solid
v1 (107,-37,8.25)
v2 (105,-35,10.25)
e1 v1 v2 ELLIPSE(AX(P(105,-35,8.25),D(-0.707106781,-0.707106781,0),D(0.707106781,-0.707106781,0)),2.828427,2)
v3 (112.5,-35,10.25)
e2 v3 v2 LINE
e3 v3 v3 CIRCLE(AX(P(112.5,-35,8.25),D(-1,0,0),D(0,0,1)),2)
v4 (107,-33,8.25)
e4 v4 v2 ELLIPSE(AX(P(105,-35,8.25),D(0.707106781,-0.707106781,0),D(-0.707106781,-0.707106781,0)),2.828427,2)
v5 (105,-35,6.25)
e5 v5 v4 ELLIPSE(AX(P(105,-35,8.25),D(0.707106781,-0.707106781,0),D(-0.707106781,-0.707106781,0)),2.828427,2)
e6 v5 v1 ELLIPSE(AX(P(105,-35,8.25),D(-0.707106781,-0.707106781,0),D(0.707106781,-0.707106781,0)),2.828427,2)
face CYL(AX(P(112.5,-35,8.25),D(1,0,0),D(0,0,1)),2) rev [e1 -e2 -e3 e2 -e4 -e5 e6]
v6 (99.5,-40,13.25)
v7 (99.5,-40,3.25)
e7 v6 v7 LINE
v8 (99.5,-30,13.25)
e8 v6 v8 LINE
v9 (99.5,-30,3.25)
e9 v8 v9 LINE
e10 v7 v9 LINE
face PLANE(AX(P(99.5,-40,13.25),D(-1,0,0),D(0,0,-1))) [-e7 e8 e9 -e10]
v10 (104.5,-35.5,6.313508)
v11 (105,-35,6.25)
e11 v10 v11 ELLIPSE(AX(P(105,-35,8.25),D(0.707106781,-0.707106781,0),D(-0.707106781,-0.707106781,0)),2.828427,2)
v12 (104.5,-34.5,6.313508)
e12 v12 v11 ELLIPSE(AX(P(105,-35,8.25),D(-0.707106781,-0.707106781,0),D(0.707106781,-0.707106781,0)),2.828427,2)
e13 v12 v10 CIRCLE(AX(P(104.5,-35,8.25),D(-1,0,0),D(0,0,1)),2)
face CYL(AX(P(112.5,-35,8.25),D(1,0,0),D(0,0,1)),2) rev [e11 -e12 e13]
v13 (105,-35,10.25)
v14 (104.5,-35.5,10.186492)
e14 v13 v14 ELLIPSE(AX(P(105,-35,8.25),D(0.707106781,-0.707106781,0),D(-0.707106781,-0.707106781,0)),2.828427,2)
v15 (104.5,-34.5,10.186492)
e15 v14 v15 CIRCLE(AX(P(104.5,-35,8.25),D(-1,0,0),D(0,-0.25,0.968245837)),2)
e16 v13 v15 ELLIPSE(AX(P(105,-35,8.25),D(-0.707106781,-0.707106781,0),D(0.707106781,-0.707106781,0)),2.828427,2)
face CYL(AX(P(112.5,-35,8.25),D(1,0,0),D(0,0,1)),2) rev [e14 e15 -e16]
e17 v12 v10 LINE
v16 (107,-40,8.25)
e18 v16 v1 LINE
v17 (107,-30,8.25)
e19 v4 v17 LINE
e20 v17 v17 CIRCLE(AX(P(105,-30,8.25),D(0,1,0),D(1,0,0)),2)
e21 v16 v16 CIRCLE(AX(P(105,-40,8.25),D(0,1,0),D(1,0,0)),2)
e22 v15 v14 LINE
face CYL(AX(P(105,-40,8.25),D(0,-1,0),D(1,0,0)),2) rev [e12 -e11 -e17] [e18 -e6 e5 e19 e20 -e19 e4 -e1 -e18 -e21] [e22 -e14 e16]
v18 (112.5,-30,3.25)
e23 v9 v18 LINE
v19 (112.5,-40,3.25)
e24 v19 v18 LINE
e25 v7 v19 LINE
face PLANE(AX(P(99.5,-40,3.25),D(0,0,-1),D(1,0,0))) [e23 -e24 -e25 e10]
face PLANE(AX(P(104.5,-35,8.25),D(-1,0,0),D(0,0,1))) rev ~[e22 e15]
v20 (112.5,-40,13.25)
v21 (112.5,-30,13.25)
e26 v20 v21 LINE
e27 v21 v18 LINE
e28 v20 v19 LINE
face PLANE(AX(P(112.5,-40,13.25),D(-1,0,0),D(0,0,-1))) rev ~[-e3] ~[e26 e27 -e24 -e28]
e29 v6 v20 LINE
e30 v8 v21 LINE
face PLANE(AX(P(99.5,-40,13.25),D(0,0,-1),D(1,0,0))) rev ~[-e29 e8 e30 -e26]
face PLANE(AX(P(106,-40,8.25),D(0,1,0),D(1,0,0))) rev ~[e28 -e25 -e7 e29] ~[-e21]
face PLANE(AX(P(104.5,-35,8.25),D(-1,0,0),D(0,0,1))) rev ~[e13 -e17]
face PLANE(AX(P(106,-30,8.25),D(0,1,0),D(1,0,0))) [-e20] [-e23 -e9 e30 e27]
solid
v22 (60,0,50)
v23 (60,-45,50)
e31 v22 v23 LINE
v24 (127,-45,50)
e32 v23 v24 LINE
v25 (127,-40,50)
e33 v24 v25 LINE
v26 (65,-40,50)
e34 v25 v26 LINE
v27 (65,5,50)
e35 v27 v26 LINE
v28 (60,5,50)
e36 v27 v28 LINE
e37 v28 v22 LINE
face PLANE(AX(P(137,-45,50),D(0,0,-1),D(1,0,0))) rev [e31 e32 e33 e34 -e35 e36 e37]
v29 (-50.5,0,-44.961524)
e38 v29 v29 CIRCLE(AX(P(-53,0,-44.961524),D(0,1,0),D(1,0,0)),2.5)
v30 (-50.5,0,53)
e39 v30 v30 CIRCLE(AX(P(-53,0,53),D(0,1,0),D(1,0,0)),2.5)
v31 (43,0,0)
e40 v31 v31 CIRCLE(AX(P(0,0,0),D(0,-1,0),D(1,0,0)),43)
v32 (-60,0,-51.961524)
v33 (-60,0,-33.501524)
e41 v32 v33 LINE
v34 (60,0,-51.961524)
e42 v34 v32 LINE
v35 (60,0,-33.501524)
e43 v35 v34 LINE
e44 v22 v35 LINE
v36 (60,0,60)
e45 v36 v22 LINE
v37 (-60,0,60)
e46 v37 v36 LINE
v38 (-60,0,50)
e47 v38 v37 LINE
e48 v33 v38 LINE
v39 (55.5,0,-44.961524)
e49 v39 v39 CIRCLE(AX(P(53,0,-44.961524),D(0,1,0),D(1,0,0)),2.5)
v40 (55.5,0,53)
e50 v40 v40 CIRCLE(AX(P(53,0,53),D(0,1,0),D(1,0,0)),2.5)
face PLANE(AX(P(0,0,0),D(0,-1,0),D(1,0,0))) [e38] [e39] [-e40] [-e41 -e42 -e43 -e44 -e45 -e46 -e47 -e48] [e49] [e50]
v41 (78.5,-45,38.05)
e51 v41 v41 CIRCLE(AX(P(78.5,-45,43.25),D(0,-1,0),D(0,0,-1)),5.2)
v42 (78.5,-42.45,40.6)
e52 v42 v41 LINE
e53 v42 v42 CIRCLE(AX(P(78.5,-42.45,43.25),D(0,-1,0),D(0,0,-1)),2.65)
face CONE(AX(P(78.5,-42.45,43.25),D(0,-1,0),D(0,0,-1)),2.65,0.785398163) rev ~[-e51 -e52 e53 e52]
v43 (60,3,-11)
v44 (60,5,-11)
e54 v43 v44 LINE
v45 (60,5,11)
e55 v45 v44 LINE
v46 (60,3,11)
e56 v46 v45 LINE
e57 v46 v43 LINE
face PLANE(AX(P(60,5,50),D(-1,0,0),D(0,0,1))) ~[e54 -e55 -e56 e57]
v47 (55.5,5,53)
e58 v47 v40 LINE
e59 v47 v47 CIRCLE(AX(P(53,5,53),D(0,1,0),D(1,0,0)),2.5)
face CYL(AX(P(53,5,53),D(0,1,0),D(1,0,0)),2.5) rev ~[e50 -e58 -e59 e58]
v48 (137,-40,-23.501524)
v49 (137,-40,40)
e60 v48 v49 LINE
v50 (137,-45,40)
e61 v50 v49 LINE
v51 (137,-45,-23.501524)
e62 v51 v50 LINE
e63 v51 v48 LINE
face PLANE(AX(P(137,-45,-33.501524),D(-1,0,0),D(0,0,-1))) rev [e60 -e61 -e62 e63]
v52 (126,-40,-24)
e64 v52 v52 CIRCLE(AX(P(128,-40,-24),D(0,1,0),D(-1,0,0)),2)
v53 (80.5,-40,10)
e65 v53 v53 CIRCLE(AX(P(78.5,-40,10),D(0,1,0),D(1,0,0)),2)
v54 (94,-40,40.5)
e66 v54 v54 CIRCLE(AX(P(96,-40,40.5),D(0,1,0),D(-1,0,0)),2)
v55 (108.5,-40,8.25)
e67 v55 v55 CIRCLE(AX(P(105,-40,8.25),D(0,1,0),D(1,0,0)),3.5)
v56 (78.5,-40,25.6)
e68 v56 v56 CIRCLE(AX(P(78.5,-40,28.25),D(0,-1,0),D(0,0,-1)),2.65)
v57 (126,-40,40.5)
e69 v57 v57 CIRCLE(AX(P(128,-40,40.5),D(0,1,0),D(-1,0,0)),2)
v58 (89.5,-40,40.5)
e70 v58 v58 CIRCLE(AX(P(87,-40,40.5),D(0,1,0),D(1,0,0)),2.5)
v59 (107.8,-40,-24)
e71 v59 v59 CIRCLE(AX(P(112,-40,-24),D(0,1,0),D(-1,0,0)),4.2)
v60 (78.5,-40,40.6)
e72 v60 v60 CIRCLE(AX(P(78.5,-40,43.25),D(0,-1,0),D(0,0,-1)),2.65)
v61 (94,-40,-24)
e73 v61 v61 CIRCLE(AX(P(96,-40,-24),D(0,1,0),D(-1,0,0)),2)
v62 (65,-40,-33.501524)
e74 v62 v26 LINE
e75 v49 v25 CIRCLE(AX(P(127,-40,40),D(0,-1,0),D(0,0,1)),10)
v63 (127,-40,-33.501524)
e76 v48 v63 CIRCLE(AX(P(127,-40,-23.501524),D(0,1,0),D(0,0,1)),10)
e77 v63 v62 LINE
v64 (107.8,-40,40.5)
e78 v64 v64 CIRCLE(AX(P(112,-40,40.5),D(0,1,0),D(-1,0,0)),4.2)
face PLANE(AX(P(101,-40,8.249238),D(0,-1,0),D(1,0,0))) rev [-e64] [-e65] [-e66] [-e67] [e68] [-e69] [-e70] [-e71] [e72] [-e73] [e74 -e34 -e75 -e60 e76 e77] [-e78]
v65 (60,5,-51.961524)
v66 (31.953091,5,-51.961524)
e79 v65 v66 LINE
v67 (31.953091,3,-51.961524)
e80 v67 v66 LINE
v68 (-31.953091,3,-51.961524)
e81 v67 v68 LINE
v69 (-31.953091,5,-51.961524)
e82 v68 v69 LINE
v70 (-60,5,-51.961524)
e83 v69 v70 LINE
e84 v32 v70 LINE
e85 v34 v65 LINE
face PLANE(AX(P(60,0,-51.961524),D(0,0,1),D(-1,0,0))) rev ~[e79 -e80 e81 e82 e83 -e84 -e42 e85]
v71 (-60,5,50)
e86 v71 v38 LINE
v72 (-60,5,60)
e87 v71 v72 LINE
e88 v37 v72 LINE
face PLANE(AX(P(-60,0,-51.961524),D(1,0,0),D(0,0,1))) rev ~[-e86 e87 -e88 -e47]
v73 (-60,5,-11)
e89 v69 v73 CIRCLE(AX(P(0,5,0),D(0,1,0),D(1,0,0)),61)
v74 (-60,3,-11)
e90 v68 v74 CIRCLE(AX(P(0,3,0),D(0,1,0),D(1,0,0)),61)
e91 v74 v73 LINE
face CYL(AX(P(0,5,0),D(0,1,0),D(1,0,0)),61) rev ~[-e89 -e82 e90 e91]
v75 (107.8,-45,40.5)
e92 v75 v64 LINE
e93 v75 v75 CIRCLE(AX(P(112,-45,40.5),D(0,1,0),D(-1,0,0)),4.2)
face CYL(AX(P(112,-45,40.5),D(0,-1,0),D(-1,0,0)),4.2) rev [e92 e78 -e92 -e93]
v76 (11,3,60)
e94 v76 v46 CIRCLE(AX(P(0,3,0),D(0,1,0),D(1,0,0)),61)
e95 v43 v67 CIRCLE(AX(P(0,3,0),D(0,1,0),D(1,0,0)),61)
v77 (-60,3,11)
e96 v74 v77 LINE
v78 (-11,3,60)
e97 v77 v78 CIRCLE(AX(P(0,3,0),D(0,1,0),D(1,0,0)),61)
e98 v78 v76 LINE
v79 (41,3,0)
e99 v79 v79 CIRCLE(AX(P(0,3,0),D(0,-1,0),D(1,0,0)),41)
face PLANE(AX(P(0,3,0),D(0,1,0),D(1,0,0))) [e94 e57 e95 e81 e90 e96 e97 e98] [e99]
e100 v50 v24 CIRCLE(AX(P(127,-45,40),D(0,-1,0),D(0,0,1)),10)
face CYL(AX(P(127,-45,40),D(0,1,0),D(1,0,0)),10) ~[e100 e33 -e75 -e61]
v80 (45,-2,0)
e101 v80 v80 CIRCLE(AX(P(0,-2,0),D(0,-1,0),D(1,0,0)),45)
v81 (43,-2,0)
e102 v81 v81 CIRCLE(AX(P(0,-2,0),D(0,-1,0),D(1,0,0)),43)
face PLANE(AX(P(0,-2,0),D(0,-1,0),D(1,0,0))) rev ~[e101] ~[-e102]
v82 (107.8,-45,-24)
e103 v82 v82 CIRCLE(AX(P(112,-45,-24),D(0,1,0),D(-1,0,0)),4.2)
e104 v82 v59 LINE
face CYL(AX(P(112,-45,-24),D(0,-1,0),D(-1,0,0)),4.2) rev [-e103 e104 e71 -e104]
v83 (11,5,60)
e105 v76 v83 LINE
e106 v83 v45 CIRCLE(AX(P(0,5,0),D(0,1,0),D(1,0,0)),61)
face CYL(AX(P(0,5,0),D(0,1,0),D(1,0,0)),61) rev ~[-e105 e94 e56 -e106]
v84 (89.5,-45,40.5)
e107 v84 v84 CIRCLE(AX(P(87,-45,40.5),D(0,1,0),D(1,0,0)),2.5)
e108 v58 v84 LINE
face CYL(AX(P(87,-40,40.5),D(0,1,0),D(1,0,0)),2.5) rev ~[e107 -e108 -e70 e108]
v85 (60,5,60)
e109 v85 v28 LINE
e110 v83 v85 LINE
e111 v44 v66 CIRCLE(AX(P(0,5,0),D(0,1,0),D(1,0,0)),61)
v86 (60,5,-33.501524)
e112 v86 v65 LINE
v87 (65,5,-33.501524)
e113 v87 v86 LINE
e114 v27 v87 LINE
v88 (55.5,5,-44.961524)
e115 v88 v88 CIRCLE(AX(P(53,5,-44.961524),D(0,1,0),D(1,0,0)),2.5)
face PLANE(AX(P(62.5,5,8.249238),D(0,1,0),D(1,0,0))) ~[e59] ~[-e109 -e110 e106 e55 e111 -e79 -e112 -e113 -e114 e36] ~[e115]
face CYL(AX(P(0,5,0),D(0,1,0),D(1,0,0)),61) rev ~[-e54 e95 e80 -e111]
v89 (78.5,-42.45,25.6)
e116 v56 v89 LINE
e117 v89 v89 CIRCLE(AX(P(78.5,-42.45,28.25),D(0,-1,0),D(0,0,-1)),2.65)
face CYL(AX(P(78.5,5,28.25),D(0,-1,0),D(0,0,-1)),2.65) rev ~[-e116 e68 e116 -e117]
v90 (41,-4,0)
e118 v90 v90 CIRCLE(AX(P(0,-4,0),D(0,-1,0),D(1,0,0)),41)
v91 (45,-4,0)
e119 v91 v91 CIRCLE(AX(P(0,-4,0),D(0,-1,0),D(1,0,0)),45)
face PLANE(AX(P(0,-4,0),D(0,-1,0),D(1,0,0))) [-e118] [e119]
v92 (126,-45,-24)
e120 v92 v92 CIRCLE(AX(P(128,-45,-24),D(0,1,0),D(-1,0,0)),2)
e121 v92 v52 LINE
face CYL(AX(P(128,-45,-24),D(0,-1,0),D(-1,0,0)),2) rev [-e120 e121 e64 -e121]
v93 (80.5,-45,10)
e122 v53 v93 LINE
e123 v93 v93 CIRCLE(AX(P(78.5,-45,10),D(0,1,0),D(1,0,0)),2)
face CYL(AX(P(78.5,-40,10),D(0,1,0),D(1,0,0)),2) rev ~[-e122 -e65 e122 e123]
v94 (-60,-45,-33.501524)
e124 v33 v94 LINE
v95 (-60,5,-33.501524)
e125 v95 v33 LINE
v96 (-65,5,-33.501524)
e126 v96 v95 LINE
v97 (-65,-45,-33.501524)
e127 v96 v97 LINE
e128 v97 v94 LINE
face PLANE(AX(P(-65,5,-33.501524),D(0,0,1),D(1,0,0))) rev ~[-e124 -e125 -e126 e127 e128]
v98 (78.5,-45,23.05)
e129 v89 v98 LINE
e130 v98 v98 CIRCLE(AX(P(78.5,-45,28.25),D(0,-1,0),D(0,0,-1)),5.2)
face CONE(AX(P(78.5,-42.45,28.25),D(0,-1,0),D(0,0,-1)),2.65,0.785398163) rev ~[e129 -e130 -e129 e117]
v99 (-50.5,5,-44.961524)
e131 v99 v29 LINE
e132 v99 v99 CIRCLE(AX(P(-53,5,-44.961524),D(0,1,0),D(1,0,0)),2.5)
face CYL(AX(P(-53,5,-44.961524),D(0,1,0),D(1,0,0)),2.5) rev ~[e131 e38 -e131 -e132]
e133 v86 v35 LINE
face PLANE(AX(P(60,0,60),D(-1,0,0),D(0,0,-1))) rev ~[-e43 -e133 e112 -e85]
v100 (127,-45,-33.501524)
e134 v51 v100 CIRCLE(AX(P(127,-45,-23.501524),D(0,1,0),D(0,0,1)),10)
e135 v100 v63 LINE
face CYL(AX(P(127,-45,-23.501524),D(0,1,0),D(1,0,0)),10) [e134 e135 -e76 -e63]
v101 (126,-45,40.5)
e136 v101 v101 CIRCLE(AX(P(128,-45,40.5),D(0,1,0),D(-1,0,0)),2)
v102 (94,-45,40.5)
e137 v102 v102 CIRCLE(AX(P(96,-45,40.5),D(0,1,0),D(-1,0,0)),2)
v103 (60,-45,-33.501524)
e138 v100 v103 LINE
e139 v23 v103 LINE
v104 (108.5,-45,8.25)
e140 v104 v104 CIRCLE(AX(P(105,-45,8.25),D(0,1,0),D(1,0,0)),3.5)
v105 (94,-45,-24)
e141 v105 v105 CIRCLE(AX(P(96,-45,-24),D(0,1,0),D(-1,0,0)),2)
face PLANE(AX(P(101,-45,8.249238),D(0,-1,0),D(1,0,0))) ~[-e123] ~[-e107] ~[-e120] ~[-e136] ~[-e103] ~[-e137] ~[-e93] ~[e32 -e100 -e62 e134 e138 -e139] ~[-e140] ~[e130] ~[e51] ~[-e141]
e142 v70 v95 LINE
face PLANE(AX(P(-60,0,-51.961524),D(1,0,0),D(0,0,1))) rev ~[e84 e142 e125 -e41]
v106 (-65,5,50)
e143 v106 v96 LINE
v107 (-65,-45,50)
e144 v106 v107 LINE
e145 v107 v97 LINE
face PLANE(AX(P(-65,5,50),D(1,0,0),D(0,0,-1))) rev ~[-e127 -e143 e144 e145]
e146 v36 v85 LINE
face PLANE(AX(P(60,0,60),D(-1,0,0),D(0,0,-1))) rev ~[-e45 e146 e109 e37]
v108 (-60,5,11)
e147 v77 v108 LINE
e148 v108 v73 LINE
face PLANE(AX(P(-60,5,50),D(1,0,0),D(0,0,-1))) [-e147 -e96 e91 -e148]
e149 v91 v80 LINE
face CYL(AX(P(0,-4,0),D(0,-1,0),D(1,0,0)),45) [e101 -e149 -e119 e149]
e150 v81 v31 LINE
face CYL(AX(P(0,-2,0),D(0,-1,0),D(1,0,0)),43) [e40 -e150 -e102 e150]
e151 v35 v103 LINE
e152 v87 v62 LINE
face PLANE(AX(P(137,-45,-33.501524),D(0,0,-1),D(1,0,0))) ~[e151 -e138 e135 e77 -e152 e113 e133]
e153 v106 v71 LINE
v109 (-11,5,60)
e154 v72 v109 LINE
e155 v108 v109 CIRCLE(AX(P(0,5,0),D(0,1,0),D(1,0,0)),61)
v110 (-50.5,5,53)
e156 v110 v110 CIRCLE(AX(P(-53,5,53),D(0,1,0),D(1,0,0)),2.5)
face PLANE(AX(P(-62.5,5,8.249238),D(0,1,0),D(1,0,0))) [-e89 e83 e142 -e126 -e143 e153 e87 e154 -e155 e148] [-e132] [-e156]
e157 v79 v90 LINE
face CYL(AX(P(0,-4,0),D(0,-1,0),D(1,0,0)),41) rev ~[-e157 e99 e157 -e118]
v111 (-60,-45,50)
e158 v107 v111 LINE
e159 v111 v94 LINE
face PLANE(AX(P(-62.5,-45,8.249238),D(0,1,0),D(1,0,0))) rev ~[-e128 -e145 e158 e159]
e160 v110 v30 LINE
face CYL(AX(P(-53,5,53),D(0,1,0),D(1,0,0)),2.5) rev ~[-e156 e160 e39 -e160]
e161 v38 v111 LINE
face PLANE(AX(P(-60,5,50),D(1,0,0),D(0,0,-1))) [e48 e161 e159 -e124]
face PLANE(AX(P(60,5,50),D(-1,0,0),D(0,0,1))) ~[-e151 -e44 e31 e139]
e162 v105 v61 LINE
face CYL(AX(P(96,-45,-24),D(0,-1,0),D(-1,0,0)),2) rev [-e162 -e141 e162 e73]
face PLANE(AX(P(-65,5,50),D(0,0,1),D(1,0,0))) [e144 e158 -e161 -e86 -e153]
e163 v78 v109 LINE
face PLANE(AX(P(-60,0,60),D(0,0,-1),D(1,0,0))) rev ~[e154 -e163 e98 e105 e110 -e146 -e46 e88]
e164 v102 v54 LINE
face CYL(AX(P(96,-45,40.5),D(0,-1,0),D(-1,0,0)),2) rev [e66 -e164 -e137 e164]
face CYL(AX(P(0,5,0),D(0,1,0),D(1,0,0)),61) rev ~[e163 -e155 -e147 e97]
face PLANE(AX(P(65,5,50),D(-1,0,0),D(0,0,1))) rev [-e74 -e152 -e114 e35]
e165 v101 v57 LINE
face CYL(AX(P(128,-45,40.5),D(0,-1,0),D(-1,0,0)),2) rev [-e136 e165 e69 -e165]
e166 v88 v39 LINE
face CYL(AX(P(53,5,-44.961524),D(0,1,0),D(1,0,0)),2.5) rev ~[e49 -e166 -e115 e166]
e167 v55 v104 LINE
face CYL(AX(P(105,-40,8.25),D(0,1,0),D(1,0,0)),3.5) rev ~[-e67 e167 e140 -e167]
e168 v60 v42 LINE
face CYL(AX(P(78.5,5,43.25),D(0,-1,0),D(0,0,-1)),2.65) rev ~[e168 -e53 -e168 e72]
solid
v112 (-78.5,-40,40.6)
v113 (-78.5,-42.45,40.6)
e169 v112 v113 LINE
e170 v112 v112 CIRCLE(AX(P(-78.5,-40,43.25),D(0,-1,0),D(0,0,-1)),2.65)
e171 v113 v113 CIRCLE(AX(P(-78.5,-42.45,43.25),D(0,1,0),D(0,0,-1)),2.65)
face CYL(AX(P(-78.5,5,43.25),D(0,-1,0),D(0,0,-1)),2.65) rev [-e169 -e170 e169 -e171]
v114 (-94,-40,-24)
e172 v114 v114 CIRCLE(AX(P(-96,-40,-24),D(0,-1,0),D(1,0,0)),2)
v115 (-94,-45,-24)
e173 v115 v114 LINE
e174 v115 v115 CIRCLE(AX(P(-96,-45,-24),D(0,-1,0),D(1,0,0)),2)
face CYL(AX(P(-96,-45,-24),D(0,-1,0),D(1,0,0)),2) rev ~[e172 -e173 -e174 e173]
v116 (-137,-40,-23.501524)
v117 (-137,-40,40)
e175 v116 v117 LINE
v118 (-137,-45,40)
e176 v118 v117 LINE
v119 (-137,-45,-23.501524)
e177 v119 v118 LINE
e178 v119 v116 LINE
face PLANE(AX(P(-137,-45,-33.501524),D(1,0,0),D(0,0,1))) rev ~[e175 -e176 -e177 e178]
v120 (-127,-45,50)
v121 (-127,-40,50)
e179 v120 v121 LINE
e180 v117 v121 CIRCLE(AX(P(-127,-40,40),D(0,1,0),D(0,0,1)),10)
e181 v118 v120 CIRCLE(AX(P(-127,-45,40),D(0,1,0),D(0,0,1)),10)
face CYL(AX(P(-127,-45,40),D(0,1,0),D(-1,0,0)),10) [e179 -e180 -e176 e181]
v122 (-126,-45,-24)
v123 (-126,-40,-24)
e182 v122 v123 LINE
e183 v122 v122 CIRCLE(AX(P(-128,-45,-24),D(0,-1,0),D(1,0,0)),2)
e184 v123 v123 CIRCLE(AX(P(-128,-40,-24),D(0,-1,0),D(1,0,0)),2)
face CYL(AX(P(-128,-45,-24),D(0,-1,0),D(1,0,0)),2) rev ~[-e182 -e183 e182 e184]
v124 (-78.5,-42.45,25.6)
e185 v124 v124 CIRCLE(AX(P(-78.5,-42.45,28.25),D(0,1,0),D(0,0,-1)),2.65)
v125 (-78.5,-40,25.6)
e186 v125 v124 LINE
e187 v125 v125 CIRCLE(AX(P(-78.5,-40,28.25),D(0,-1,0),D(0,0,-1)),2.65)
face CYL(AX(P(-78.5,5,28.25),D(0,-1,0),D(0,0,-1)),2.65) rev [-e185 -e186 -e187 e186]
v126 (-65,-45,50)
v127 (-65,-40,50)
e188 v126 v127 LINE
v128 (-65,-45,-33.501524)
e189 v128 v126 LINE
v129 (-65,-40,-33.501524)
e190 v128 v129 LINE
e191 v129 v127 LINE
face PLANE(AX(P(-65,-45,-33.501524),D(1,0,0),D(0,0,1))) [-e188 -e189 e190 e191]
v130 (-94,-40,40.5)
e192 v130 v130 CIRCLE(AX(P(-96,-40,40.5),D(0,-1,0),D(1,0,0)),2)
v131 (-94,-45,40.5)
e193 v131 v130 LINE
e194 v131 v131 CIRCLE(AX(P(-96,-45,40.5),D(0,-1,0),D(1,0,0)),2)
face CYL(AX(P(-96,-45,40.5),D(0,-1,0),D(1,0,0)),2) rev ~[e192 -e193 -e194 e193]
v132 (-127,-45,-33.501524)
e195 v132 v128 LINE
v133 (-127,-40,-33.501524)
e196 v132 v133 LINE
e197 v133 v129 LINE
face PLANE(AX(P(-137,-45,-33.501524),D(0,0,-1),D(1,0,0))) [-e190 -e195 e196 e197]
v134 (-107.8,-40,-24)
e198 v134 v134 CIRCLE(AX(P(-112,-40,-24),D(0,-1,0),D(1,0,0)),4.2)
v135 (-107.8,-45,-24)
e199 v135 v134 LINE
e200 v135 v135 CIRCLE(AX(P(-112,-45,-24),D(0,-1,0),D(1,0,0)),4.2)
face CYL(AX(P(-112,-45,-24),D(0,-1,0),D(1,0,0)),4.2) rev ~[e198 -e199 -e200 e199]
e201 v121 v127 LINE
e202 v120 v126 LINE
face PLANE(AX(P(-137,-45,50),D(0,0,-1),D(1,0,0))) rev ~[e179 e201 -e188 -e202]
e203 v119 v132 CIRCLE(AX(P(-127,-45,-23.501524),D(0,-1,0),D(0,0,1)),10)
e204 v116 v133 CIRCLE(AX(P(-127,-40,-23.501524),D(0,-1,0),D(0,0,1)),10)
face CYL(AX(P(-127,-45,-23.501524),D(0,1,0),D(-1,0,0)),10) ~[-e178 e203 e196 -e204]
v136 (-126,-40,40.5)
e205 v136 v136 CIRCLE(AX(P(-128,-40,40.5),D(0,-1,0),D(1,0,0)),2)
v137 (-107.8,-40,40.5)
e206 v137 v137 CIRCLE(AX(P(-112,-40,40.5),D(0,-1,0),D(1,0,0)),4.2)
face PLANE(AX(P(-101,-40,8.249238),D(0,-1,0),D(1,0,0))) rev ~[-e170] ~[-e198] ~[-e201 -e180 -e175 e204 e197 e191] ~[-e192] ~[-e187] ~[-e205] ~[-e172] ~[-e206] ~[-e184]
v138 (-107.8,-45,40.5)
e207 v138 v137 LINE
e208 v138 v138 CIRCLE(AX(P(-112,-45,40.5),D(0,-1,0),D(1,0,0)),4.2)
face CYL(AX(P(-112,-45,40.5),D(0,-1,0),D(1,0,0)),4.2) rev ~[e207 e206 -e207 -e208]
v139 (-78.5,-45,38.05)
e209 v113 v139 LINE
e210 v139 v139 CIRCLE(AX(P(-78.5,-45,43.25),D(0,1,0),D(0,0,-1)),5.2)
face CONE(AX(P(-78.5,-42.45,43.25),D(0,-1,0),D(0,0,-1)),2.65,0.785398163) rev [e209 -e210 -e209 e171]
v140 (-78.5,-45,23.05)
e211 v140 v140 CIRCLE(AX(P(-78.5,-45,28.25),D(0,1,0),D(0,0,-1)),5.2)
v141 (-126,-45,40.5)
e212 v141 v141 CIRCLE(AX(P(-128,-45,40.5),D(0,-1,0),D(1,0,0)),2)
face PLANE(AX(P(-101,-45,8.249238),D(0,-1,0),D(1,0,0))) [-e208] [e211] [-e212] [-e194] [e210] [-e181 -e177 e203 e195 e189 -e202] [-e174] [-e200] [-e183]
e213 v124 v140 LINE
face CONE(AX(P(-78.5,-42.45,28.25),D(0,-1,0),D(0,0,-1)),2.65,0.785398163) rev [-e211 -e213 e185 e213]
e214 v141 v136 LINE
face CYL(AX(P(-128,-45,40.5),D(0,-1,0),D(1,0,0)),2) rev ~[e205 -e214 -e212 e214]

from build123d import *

# Parameters (mm, degrees)
SKETCH1_R                                      = 41
BOSS_EXTRUDE6_DEPTH                            = 5
SKETCH51_R                                     = 61
CUT_EXTRUDE10_DEPTH                            = 2
SKETCH52_R                                     = 2.5
CUT_EXTRUDE11_DEPTH                            = 86
SKETCH39_W                                     = 5
SKETCH39_H                                     = 83.501524227
BOSS_EXTRUDE10_DEPTH                           = 50
SKETCH41_W                                     = 72
SKETCH41_H                                     = 83.501524227
SKETCH41_R                                     = 4.2
SKETCH41_R_2                                   = 2
BOSS_EXTRUDE11_DEPTH                           = 5
FILLET1_R                                      = 10
CSK_FOR_M5_FLAT_HEAD_MACHINE_SCREW2_AT_2_COUNT = 2
CSK_FOR_M5_FLAT_HEAD_MACHINE_SCREW2_AT_2_PITCH = 15
FILLET1_OF_MIRROR6_R                           = 10
SKETCH43_R                                     = 3.5
SKETCH43_R_2                                   = 2
SKETCH43_R_3                                   = 2.5
CUT_EXTRUDE5_DEPTH                             = 10
SKETCH44_W                                     = 13
SKETCH44_H                                     = 10
SKETCH44_R                                     = 2
BOSS_EXTRUDE12_DEPTH                           = 10
SKETCH45_R                                     = 2
CUT_EXTRUDE6_DEPTH                             = 8
BOSS_EXTRUDE13_START                           = 4
SKETCH46_R                                     = 45
SKETCH46_R_2                                   = 41
BOSS_EXTRUDE13_DEPTH                           = 4
CUT_EXTRUDE12_START                            = 2
SKETCH53_R                                     = 45
SKETCH53_R_2                                   = 43
CUT_EXTRUDE12_DEPTH                            = 2


with BuildPart() as part:
    # Sketch1 → Boss-Extrude6 (new body)
    with BuildSketch(Plane(origin=(0, 0, 0), x_dir=(1, 0, 0), z_dir=(0, 1, 0))):
        Polygon((-60, -30), (-60, 30), (-60, 40), (-60, 51.961524227), (-30, 51.961524227), (30, 51.961524227), (60, 51.961524227), (60, 40), (60, 30), (60, -30), (60, -40), (60, -60), (0, -60), (-60, -60), (-60, -40), align=None)
        Circle(SKETCH1_R, mode=Mode.SUBTRACT)
    extrude(amount=BOSS_EXTRUDE6_DEPTH)

    # Sketch51 → Cut-Extrude10 (cut)
    with BuildSketch(Plane(origin=(0, 5, 0), x_dir=(1, 0, 0), z_dir=(0, 1, 0))):
        Circle(SKETCH51_R)
    extrude(amount=-CUT_EXTRUDE10_DEPTH, mode=Mode.SUBTRACT)

    # Sketch52 → Cut-Extrude11 (cut, through all)
    with BuildSketch(Plane(origin=(0, 5, 0), x_dir=(1, 0, 0), z_dir=(0, 1, 0))):
        with Locations((-53, -53)):
            Circle(SKETCH52_R)
        with Locations((-53, 44.961524227)):
            Circle(SKETCH52_R)
        with Locations((53, -53)):
            Circle(SKETCH52_R)
        with Locations((53, 44.961524227)):
            Circle(SKETCH52_R)
    extrude(amount=-CUT_EXTRUDE11_DEPTH, mode=Mode.SUBTRACT)

    # Sketch39 → Boss-Extrude10 (add)
    with BuildSketch(Plane(origin=(0, 5, 0), x_dir=(1, 0, 0), z_dir=(0, 1, 0))):
        with Locations((-62.5, -8.249237886)):
            Rectangle(SKETCH39_W, SKETCH39_H)
    boss_extrude10 = extrude(amount=-BOSS_EXTRUDE10_DEPTH)

    # Mirror1: Boss-Extrude10 across plane
    add(boss_extrude10.mirror(Plane(origin=(0, 0, 0), x_dir=(0, 0, 1), z_dir=(1, 0, 0))))


with BuildPart() as body_2:
    # Sketch41 → Boss-Extrude11 (new body)
    with BuildSketch(Plane.XZ.offset(45)):
        with Locations((-101, 8.249237886)):
            Rectangle(SKETCH41_W, SKETCH41_H)
        with Locations((-112, -24)):
            Circle(SKETCH41_R, mode=Mode.SUBTRACT)
        with Locations((-128, -24)):
            Circle(SKETCH41_R_2, mode=Mode.SUBTRACT)
        with Locations((-96, -24)):
            Circle(SKETCH41_R_2, mode=Mode.SUBTRACT)
        with Locations((-112, 40.5)):
            Circle(SKETCH41_R, mode=Mode.SUBTRACT)
        with Locations((-128, 40.5)):
            Circle(SKETCH41_R_2, mode=Mode.SUBTRACT)
        with Locations((-96, 40.5)):
            Circle(SKETCH41_R_2, mode=Mode.SUBTRACT)
    boss_extrude11 = extrude(amount=-BOSS_EXTRUDE11_DEPTH)

    # Fillet1
    fillet1_edges = [body_2.edges().sort_by_distance(p)[0] for p in [
        (-137, -42.5, 50),
        (-137, -42.5, -33.501524227),
    ]]
    fillet(fillet1_edges, radius=FILLET1_R)

    # Sketch50 → CSK for M5 Flat Head Machine Screw2 (revolve, cut)
    with BuildSketch(Plane(origin=(-78.5, -45, 43.25), x_dir=(0, 0, -1), z_dir=(1, 0, 0))):
        Polygon((0, 0), (0, 50), (2.65, 50), (2.65, 2.55), (5.2, 0), align=None)
    csk_for_m5_flat_head_machine_screw2 = revolve(axis=Axis((-78.5, -51.35, 43.25), (0, 1, 0)), mode=Mode.SUBTRACT)

    # CSK for M5 Flat Head Machine Screw2 at 2: CSK for M5 Flat Head Machine Screw2 ×2
    with Locations(*[(0, 0, -i * CSK_FOR_M5_FLAT_HEAD_MACHINE_SCREW2_AT_2_PITCH) for i in range(1, CSK_FOR_M5_FLAT_HEAD_MACHINE_SCREW2_AT_2_COUNT)]):
        add(csk_for_m5_flat_head_machine_screw2, mode=Mode.SUBTRACT)


with BuildPart() as part_1:
    add(part.part)

    # Mirror6: Boss-Extrude11, CSK for M5 Flat Head Machine Screw2 across plane
    add(boss_extrude11.mirror(Plane(origin=(0, 0, 0), x_dir=(0, 0, 1), z_dir=(1, 0, 0))))
    add(csk_for_m5_flat_head_machine_screw2.mirror(Plane(origin=(0, 0, 0), x_dir=(0, 0, 1), z_dir=(1, 0, 0))), mode=Mode.SUBTRACT)

    # Mirror6 copy 1 sketch → Mirror6 copy 1 (revolve, cut)
    with BuildSketch(Plane(origin=(78.5, -45, 28.25), x_dir=(0, 0, -1), z_dir=(-1, 0, 0))):
        Polygon((0, 0), (0, -50), (2.65, -50), (2.65, -2.55), (5.2, 0), align=None)
    revolve(axis=Axis((78.5, -51.35, 28.25), (0, -1, 0)), mode=Mode.SUBTRACT)

    # Fillet1 of Mirror6
    fillet1_of_mirror6_edges = [part_1.edges().sort_by_distance(p)[0] for p in [
        (137, -42.5, 50),
        (137, -42.5, -33.501524227),
    ]]
    fillet(fillet1_of_mirror6_edges, radius=FILLET1_OF_MIRROR6_R)

    # Sketch43 → Cut-Extrude5 (cut)
    with BuildSketch(Plane(origin=(0, -40, 0), x_dir=(1, 0, 0), z_dir=(0, 1, 0))):
        with Locations((105, -8.25)):
            Circle(SKETCH43_R)
        with Locations((78.5, -10)):
            Circle(SKETCH43_R_2)
        with Locations((87, -40.5)):
            Circle(SKETCH43_R_3)
    extrude(amount=-CUT_EXTRUDE5_DEPTH, mode=Mode.SUBTRACT)

    # Sketch46 → Boss-Extrude13 (add)
    with BuildSketch(Plane.XZ.offset(BOSS_EXTRUDE13_START)):
        Circle(SKETCH46_R)
        Circle(SKETCH46_R_2, mode=Mode.SUBTRACT)
    extrude(amount=-BOSS_EXTRUDE13_DEPTH)

    # Sketch53 → Cut-Extrude12 (cut)
    with BuildSketch(Plane.XZ.offset(CUT_EXTRUDE12_START)):
        Circle(SKETCH53_R)
        Circle(SKETCH53_R_2, mode=Mode.SUBTRACT)
    extrude(amount=-CUT_EXTRUDE12_DEPTH, mode=Mode.SUBTRACT)


with BuildPart() as body_3:
    # Sketch44 → Boss-Extrude12 (new body)
    with BuildSketch(Plane(origin=(0, -40, 0), x_dir=(1, 0, 0), z_dir=(0, 1, 0))):
        with Locations((106, -8.25)):
            Rectangle(SKETCH44_W, SKETCH44_H)
        with Locations((105, -8.25)):
            Circle(SKETCH44_R, mode=Mode.SUBTRACT)
    extrude(amount=BOSS_EXTRUDE12_DEPTH)

    # Sketch45 → Cut-Extrude6 (cut)
    with BuildSketch(Plane.ZY.offset(-112.5)):
        with Locations((8.25, -35)):
            Circle(SKETCH45_R)
    extrude(amount=CUT_EXTRUDE6_DEPTH, mode=Mode.SUBTRACT)


solid = Compound([body_2.part, part_1.part, body_3.part])
